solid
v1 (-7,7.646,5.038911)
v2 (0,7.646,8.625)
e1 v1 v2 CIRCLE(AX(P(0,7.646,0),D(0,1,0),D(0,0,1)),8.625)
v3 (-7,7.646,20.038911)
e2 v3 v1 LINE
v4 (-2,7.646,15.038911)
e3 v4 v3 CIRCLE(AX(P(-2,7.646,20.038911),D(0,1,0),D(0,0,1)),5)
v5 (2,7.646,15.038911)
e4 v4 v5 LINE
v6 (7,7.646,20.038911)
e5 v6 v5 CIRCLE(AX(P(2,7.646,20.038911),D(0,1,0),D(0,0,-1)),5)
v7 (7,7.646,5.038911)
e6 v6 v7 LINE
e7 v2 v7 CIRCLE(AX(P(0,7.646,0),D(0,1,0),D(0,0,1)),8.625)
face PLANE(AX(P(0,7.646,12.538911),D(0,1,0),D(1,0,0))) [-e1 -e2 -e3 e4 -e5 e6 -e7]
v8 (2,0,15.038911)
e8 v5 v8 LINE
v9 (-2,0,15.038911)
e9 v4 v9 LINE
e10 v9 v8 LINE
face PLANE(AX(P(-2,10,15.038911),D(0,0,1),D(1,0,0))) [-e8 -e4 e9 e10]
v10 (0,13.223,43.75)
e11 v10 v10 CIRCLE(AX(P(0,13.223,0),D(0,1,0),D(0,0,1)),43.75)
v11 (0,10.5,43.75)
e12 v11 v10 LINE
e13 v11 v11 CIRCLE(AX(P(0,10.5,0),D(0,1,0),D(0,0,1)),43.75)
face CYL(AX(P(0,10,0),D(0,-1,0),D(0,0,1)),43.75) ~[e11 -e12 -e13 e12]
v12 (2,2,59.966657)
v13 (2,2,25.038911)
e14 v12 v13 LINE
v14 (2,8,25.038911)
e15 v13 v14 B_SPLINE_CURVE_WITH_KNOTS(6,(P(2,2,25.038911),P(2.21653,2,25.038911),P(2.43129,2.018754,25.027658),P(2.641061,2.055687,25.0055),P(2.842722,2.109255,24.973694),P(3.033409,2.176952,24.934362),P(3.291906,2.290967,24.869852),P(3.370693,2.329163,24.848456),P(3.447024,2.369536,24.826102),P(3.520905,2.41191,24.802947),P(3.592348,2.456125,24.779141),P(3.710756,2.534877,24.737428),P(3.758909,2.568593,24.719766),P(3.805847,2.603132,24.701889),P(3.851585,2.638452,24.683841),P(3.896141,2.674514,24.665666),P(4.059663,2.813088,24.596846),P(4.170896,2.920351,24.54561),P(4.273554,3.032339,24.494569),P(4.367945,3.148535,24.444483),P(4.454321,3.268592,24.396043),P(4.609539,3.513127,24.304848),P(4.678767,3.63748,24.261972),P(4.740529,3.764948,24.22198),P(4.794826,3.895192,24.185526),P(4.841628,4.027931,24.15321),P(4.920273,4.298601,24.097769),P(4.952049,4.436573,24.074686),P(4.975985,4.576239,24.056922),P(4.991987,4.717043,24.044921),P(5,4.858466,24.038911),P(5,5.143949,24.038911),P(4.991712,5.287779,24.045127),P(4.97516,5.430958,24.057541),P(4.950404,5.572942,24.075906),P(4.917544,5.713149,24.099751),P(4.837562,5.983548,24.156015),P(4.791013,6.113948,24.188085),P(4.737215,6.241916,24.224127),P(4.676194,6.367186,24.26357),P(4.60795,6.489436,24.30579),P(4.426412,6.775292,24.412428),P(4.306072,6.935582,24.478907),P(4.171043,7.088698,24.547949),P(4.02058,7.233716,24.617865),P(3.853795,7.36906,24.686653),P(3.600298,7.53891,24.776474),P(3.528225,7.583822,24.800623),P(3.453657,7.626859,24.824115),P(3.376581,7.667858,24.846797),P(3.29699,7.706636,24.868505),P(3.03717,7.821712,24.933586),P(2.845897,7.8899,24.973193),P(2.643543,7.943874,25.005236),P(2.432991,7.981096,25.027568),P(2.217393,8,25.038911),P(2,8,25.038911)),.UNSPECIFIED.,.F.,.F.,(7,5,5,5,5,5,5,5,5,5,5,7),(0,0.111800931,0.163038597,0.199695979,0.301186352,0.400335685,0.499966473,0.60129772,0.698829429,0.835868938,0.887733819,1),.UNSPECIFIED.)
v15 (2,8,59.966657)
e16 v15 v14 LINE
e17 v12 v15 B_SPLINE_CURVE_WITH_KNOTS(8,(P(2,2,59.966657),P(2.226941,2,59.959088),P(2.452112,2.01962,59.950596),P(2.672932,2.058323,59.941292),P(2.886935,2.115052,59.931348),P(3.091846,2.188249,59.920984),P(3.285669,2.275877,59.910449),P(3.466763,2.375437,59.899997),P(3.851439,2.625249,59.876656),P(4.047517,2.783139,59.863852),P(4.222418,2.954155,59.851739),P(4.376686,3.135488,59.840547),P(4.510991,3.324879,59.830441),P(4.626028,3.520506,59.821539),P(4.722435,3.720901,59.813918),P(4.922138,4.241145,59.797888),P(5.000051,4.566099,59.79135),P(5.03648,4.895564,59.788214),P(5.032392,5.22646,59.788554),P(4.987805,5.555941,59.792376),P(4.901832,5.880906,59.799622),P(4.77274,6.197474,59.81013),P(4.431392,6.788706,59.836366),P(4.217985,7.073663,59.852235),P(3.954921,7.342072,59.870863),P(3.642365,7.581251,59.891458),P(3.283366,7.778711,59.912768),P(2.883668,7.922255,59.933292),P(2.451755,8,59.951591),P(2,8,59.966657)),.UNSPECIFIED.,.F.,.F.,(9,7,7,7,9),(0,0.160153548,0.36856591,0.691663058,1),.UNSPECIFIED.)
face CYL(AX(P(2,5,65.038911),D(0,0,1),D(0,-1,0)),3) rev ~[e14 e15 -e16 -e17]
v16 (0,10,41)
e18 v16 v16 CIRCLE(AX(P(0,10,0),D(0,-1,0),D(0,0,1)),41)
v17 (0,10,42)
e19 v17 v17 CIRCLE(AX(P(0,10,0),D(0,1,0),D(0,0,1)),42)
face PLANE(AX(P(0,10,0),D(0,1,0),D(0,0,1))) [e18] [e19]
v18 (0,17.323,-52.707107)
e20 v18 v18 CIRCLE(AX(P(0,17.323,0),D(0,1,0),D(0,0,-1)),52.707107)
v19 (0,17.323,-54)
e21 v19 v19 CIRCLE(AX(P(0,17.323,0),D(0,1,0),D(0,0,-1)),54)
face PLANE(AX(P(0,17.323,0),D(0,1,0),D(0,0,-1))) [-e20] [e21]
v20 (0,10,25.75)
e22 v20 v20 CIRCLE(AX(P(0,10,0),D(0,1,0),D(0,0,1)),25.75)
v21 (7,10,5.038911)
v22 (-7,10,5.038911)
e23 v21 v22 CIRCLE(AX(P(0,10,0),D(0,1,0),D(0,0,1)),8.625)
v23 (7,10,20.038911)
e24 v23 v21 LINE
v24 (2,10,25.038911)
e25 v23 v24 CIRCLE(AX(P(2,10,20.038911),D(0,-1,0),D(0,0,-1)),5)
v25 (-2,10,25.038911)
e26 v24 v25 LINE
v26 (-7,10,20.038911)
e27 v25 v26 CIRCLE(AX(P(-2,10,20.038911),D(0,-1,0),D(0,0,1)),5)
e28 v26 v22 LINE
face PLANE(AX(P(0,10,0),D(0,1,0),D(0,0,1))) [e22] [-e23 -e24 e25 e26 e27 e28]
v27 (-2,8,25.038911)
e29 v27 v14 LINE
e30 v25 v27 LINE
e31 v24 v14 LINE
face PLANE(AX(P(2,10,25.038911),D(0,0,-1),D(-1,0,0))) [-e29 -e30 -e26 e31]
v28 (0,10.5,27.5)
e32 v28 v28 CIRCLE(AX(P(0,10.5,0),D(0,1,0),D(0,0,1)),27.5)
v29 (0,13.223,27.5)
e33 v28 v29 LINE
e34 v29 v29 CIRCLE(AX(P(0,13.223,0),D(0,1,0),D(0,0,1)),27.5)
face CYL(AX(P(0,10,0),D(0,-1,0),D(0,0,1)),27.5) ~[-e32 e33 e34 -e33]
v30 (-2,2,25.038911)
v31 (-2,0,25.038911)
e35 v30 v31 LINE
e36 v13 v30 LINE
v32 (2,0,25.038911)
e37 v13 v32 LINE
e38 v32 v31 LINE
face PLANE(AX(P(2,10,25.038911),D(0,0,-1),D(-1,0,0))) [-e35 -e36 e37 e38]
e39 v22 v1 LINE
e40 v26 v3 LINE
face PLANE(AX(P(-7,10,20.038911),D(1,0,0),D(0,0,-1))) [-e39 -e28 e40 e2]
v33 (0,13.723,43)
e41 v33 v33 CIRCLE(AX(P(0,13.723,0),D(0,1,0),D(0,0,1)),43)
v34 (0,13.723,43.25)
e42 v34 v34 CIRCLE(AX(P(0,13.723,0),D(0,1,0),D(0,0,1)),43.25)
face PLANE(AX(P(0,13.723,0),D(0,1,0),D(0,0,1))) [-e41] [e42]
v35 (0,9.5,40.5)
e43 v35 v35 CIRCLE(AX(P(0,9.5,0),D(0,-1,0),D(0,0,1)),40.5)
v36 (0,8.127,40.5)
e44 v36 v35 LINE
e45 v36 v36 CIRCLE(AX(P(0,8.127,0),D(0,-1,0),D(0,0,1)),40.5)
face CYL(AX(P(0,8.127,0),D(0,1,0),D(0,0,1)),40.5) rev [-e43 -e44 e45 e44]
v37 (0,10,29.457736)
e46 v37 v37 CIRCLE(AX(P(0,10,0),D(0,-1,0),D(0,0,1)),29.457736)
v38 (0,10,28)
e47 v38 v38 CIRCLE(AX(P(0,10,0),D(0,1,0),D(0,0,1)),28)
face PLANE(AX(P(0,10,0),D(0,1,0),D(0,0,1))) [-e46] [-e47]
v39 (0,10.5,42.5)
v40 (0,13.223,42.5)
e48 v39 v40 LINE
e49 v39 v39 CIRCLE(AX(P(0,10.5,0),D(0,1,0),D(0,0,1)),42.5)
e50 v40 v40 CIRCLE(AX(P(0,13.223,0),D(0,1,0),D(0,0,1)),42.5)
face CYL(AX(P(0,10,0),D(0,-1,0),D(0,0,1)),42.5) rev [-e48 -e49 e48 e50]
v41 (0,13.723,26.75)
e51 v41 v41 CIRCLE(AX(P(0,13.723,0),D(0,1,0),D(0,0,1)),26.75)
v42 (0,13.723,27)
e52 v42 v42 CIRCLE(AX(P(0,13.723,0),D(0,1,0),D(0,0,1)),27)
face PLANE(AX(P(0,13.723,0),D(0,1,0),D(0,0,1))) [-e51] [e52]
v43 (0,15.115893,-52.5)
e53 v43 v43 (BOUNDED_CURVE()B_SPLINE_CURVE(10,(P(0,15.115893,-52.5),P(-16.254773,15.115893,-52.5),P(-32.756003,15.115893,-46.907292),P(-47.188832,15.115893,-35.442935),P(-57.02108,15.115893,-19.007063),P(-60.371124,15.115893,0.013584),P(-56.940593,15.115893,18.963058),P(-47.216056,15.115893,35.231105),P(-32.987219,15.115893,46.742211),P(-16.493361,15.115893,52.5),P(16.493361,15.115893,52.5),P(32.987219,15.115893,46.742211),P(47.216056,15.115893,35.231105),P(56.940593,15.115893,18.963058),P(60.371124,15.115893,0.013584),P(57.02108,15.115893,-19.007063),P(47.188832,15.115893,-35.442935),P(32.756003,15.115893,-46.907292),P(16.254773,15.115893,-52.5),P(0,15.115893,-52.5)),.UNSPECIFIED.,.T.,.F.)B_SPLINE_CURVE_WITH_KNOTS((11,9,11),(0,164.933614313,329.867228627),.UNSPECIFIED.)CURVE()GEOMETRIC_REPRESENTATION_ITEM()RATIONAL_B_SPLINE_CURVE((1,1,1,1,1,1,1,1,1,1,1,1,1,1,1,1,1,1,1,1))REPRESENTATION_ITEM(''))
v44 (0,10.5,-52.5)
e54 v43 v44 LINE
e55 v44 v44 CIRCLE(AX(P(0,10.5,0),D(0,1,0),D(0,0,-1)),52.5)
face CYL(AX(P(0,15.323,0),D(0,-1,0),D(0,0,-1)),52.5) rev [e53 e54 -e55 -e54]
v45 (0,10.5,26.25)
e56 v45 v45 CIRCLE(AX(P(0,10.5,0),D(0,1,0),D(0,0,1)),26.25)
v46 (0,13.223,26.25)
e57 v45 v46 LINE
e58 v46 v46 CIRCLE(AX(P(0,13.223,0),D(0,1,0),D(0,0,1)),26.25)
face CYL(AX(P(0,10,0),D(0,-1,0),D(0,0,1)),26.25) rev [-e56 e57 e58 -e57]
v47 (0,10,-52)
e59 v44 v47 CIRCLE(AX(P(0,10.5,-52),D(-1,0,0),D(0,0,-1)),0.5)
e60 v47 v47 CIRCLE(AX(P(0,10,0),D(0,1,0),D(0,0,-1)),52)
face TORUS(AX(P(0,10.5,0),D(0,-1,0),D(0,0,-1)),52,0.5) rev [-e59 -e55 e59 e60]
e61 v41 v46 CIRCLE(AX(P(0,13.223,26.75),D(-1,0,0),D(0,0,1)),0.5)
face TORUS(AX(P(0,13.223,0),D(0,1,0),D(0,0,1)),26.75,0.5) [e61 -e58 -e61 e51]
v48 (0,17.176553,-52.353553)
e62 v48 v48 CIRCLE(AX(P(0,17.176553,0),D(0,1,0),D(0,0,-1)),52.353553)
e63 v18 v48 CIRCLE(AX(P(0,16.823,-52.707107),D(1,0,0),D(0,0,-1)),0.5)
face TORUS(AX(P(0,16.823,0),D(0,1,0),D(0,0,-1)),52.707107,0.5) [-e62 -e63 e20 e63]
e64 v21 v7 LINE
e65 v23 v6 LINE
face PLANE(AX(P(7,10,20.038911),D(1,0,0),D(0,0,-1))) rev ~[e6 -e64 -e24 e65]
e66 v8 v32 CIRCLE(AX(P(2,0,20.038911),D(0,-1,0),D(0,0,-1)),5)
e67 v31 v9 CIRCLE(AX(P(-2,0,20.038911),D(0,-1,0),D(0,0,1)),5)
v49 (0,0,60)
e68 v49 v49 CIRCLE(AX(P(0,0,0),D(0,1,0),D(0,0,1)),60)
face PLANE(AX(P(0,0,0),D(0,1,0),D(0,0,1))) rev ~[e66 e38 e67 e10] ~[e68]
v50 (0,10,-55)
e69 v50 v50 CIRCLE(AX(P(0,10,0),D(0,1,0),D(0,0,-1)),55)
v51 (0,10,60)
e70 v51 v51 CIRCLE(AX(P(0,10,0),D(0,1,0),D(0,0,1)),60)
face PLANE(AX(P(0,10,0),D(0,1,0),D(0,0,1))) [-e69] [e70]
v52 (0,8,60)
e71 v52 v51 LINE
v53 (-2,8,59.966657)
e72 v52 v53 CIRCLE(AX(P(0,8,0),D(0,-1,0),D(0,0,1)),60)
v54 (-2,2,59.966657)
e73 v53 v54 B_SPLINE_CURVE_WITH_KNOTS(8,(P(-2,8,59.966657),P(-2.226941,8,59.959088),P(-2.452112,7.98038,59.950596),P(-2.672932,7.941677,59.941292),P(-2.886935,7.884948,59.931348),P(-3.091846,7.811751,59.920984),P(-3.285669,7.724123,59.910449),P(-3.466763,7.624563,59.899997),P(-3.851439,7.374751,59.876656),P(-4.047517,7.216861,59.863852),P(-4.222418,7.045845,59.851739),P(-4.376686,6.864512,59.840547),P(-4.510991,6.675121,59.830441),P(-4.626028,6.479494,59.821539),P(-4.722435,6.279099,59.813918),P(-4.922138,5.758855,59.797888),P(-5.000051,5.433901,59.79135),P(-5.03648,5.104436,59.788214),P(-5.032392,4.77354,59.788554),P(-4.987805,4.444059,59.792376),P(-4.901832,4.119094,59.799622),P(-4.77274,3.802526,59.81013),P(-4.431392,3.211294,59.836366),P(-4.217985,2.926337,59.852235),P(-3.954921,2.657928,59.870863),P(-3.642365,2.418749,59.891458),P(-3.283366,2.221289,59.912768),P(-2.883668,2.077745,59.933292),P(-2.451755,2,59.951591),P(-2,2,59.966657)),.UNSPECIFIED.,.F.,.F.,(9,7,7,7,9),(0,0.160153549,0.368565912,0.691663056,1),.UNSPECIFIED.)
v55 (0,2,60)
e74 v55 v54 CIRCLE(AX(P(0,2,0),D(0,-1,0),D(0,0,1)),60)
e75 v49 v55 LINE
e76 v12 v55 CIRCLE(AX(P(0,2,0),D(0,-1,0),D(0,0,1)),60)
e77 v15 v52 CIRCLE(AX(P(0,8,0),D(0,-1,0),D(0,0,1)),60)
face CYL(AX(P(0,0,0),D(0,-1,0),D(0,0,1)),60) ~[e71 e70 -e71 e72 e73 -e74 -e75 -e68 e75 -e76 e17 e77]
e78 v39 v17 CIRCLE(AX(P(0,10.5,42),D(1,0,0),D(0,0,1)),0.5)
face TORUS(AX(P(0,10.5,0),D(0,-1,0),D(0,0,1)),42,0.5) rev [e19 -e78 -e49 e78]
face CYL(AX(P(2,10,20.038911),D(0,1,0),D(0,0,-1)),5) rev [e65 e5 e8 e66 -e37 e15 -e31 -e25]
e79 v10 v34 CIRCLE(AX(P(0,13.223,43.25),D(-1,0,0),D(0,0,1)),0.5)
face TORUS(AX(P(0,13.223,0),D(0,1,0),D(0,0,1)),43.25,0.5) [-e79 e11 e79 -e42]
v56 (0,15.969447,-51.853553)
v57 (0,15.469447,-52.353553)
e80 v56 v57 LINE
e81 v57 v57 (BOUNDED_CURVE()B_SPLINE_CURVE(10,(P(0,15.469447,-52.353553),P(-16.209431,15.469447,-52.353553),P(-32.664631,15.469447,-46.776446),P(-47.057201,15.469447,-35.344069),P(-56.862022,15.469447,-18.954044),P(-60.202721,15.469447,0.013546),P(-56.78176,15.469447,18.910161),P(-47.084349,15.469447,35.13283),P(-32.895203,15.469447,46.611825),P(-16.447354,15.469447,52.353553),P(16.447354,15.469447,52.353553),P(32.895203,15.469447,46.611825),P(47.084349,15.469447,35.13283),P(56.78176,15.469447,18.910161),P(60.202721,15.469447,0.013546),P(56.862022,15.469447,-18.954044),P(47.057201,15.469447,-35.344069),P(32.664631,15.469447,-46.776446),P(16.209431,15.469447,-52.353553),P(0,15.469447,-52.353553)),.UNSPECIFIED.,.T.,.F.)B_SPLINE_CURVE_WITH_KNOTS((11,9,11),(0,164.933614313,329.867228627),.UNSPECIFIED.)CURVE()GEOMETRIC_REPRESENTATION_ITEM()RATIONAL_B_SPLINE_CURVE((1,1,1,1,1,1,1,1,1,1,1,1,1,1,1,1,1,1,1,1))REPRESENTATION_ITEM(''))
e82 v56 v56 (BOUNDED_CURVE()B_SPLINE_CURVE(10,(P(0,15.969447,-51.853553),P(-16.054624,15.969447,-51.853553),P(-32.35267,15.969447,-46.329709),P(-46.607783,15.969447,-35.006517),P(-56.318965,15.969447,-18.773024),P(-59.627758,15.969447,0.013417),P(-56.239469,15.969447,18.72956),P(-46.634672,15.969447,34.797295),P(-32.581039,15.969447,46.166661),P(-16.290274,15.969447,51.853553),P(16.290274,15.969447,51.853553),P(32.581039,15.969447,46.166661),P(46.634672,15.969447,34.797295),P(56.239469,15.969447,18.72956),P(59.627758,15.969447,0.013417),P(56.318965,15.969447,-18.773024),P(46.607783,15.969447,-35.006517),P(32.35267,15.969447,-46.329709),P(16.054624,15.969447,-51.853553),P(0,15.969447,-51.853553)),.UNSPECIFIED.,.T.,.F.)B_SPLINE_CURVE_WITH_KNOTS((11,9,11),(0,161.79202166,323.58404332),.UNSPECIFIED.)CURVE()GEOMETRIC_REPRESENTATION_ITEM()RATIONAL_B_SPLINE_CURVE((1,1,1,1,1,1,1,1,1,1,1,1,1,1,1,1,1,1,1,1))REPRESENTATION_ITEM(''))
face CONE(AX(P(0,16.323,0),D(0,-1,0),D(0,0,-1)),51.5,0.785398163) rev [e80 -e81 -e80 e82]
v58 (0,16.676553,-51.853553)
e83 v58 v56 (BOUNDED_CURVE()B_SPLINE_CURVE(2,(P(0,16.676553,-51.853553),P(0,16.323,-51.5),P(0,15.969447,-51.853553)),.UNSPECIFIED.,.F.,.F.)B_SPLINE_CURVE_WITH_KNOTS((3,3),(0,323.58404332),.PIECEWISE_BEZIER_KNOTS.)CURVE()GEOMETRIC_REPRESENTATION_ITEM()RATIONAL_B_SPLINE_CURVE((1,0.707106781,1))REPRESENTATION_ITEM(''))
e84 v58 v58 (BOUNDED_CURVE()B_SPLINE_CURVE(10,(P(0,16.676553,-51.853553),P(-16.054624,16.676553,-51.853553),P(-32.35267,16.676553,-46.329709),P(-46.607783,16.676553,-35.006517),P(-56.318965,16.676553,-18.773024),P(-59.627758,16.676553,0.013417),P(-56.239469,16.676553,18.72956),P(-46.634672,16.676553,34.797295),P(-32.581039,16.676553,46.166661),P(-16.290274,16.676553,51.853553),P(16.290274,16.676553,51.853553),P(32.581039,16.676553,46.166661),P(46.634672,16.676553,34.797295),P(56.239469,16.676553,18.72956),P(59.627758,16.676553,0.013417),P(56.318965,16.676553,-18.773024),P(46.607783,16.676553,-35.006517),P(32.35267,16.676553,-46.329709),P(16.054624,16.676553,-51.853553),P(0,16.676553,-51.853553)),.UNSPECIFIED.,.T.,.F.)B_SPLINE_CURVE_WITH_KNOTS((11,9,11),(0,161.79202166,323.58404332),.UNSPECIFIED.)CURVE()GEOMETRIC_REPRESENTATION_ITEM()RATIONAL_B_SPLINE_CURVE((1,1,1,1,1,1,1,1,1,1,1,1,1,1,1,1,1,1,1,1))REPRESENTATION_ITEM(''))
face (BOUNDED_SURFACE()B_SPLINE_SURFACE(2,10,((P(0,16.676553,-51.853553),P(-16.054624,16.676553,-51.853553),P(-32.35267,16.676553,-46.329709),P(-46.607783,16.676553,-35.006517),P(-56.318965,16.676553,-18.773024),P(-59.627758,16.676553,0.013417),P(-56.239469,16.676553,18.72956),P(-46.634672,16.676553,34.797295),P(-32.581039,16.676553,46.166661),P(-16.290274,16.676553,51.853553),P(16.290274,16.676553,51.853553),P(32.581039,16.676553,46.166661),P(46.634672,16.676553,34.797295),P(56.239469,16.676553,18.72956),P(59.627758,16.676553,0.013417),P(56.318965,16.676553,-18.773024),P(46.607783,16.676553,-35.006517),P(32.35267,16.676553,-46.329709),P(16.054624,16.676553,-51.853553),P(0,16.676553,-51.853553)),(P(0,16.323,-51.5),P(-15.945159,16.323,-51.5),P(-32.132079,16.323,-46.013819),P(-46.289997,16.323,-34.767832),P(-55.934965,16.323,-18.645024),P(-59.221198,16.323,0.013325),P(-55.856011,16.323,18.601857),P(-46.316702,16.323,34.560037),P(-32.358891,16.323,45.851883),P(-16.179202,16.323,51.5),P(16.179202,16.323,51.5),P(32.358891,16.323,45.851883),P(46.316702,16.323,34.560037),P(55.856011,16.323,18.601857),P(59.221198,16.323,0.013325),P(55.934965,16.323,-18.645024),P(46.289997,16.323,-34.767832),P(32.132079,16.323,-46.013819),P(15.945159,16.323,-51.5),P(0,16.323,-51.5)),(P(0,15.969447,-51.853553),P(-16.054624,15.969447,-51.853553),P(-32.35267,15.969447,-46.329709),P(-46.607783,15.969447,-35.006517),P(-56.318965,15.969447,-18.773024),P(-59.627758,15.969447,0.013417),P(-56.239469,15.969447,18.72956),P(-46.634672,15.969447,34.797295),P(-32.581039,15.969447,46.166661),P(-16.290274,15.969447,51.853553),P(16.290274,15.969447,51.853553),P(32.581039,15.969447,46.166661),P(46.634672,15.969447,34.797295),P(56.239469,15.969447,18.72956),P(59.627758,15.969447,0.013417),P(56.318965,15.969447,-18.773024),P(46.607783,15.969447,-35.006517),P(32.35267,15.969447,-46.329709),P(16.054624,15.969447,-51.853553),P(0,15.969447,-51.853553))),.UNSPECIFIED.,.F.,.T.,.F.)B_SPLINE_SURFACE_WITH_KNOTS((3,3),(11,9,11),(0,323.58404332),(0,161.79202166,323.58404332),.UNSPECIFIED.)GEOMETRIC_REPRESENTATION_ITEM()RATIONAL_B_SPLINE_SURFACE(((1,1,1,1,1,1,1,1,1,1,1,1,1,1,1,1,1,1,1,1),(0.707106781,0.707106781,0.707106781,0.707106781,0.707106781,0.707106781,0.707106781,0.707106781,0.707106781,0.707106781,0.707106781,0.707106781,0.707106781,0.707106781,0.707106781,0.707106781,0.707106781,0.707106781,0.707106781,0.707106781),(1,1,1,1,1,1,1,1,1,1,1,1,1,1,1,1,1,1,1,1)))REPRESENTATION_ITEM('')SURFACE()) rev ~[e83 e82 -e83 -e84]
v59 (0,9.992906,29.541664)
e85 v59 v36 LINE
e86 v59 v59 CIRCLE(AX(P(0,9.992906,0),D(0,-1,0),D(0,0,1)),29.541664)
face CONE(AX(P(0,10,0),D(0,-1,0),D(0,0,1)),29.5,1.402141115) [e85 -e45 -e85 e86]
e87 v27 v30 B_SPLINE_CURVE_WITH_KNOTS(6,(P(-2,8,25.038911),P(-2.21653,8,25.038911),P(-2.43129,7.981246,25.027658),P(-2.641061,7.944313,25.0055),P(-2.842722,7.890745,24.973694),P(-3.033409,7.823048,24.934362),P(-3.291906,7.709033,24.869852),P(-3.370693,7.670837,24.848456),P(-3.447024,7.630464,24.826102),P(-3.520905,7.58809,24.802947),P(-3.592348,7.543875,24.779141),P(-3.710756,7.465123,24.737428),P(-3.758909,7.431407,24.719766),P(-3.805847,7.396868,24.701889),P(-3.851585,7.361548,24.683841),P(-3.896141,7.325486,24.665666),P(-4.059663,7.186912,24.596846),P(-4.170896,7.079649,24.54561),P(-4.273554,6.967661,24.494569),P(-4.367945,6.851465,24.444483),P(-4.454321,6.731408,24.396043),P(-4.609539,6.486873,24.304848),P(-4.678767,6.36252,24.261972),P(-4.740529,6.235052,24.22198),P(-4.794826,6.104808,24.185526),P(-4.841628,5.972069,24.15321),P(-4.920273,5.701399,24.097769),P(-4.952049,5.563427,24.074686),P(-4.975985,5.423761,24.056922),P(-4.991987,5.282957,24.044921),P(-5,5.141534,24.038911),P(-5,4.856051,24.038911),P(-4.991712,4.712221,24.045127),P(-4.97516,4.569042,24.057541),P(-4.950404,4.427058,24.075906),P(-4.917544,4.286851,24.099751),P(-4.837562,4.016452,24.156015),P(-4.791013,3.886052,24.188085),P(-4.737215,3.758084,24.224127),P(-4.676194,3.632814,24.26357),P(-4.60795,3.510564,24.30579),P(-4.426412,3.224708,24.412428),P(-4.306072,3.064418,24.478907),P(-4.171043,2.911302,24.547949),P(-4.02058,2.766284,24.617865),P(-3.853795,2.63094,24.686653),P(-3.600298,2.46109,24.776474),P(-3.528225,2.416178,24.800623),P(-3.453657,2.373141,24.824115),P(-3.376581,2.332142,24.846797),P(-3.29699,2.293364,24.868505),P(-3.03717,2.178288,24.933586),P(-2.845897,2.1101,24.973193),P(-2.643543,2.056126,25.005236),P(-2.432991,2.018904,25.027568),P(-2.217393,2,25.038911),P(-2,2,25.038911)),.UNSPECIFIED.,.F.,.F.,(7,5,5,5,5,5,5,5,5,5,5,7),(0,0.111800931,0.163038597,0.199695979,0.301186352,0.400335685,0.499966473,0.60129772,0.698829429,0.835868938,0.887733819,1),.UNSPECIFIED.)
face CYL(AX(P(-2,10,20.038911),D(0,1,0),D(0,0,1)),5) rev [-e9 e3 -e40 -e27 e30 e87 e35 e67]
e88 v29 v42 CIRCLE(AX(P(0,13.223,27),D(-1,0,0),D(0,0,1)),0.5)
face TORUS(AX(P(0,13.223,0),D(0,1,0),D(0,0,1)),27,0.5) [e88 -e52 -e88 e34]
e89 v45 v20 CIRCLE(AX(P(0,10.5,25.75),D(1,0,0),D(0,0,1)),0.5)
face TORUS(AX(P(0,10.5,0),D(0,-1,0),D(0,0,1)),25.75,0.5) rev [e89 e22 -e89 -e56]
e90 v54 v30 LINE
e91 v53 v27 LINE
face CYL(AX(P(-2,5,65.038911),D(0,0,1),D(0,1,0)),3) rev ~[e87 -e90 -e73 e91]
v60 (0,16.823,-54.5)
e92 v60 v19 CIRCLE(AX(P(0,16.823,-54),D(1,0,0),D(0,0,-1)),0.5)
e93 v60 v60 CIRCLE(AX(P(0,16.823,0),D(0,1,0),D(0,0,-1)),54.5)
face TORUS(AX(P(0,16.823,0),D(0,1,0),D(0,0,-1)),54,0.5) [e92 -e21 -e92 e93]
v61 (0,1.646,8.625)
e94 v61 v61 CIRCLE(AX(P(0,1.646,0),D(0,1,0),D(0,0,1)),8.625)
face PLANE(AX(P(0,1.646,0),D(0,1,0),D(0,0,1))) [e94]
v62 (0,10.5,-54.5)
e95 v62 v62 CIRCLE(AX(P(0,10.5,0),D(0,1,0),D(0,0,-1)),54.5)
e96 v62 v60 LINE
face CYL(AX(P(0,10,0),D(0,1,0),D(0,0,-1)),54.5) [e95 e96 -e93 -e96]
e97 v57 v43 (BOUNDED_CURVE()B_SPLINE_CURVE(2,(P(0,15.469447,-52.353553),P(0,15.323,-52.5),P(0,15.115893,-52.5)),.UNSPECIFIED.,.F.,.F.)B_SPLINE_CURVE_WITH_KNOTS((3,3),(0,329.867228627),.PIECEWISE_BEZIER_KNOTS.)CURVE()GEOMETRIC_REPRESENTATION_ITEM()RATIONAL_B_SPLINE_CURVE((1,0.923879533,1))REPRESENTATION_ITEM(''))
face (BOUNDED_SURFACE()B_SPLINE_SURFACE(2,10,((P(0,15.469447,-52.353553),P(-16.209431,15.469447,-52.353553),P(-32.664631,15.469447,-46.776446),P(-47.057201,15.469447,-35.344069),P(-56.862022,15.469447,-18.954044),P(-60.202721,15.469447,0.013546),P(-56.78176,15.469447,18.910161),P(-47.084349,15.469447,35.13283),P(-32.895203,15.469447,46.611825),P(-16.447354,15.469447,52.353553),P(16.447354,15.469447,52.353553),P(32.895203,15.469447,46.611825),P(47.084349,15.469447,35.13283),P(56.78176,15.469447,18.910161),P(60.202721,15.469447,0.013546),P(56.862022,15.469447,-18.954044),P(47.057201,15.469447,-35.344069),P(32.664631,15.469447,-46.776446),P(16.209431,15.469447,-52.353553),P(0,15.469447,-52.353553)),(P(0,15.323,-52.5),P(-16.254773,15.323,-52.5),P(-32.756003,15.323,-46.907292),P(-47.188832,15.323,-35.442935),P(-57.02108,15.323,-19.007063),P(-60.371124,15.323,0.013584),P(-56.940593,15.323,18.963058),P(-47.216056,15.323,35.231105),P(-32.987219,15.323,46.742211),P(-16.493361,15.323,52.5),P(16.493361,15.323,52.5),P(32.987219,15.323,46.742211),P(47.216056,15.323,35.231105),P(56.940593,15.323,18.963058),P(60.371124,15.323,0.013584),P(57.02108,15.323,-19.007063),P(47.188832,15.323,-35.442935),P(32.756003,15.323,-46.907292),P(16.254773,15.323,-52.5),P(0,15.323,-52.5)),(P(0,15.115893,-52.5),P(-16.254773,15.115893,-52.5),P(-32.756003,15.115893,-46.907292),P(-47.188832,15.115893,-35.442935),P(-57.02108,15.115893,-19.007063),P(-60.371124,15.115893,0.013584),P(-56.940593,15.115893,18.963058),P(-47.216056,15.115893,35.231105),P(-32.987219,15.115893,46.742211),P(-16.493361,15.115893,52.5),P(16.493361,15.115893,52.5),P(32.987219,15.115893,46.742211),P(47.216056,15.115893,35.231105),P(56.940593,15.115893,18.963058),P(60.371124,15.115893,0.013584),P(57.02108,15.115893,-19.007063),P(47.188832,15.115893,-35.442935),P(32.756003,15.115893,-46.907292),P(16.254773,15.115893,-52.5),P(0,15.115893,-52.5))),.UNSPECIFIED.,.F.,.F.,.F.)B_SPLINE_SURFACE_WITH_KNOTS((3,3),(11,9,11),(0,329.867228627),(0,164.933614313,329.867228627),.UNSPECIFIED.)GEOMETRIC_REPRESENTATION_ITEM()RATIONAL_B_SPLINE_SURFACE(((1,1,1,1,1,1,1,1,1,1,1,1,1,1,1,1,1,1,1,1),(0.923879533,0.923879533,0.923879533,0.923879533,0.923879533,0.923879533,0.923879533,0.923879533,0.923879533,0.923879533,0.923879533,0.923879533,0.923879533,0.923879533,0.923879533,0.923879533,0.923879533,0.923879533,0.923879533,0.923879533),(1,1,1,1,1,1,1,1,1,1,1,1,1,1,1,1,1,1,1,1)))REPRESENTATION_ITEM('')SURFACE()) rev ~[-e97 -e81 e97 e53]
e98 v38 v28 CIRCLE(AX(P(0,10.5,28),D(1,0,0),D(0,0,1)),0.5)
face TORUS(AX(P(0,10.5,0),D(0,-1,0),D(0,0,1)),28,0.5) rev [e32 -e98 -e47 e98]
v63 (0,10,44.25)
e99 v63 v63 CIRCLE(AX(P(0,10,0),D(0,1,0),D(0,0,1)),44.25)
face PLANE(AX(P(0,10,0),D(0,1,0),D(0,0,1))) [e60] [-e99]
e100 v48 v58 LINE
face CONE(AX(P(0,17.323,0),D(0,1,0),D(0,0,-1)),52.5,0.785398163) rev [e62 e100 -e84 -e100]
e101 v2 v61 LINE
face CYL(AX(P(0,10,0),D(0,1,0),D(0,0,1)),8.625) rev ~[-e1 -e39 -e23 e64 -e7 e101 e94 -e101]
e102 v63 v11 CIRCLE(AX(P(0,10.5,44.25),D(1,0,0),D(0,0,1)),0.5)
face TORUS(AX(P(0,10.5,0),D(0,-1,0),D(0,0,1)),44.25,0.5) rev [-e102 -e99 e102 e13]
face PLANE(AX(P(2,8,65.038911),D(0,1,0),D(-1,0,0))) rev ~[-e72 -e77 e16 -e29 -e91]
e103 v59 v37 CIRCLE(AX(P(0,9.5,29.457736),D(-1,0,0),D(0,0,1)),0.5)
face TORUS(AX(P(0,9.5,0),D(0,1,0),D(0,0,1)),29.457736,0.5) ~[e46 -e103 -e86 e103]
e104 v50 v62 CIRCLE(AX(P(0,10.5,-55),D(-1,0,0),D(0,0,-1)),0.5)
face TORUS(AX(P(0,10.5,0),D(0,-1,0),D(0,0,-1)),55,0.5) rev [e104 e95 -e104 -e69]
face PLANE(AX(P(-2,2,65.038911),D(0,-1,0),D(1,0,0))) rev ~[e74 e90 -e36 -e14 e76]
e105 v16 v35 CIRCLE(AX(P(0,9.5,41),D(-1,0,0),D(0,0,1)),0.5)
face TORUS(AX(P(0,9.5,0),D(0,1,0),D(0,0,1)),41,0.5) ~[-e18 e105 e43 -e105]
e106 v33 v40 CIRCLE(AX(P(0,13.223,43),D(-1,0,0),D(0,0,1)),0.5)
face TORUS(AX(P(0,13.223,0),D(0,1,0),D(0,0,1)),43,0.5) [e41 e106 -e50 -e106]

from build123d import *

# Parameters (mm, degrees)
SKETCH1_R               = 60
BOSS_EXTRUDE1_DEPTH     = 10
SKETCH3_R               = 43.75
SKETCH3_R_2             = 42.5
SKETCH3_R_3             = 27.5
SKETCH3_R_4             = 26.25
BOSS_EXTRUDE2_DEPTH     = 3.723
FILLET1_R               = 0.5
FILLET2_R               = 0.5
SKETCH6_R               = 8.625
CUT_EXTRUDE1_DEPTH      = 8.354
SKETCH9_W               = 14
SKETCH9_H               = 15
CUT_EXTRUDE2_DEPTH      = 2.354
CUT_EXTRUDE3_DEPTH      = 10
CUT_EXTRUDE4_DEPTH      = 2
CUT_EXTRUDE4_DEPTH_BACK = 40


with BuildPart() as part:
    # Sketch1 → Boss-Extrude1 (new body)
    with BuildSketch(Plane(origin=(0, 0, 0), x_dir=(1, 0, 0), z_dir=(0, 1, 0))):
        with Locations(Location((0, 0, 0), (0, 0, 270))):
            Circle(SKETCH1_R)
    extrude(amount=BOSS_EXTRUDE1_DEPTH)

    # Sketch2 → Cut-Revolve1 (revolve, cut)
    with BuildSketch(Plane.XY, mode=Mode.PRIVATE) as cut_revolve1_sk:
        Polygon((-29.5, 10), (-40.5, 8.127), (-40.5, 10), align=None)
    revolve(cut_revolve1_sk.sketch.rotate(Axis((0, 10, 0), (0, -1, 0)), 270), axis=Axis((0, 10, 0), (0, -1, 0)), mode=Mode.SUBTRACT)

    # Sketch3 → Boss-Extrude2 (add)
    # profile 1 of 2: a face of its own
    with BuildSketch(Plane(origin=(0, 10, 0), x_dir=(1, 0, 0), z_dir=(0, 1, 0))):
        with Locations(Location((0, 0, 0), (0, 0, 270))):
            Circle(SKETCH3_R)
        with Locations(Location((0, 0, 0), (0, 0, 270))):
            Circle(SKETCH3_R_2, mode=Mode.SUBTRACT)
    # profile 2 of 2: a face of its own
    with BuildSketch(Plane(origin=(0, 10, 0), x_dir=(1, 0, 0), z_dir=(0, 1, 0))):
        with Locations(Location((0, 0, 0), (0, 0, 270))):
            Circle(SKETCH3_R_3)
        with Locations(Location((0, 0, 0), (0, 0, 270))):
            Circle(SKETCH3_R_4, mode=Mode.SUBTRACT)
    extrude(amount=BOSS_EXTRUDE2_DEPTH)

    # Fillet1
    fillet1_edges = [part.edges().sort_by_distance(p)[0] for p in [
        (0, 10, -27.5),
        (0, 13.723, -27.5),
        (0, 10, -26.25),
        (0, 13.723, -26.25),
        (0, 10, -43.75),
        (0, 13.723, -43.75),
        (0, 10, -42.5),
        (0, 13.723, -42.5),
        (0, 10, -40.5),
        (0, 10, -29.5),
    ]]
    fillet(fillet1_edges, radius=FILLET1_R)

    # Sketch5 → Revolve1 (revolve)
    with BuildSketch(Plane.XY, mode=Mode.PRIVATE) as revolve1_sk:
        Polygon((-52.5, 10), (-54.5, 10), (-54.5, 17.323), (-52.5, 17.323), (-51.5, 16.323), (-52.5, 15.323), align=None)
    revolve(revolve1_sk.sketch.rotate(Axis((0, 10, 0), (0, 1, 0)), 270), axis=Axis((0, 10, 0), (0, 1, 0)))

    # Fillet2
    fillet2_edges = [part.edges().sort_by_distance(p)[0] for p in [
        (0, 10, 52.5),
        (0, 10, 54.5),
        (0, 17.323, 54.5),
        (0, 17.323, 52.5),
        (0, 16.323, 51.5),
        (0, 15.323, 52.5),
    ]]
    fillet(fillet2_edges, radius=FILLET2_R)

    # Sketch6 → Cut-Extrude1 (cut)
    with BuildSketch(Plane(origin=(0, 10, 0), x_dir=(1, 0, 0), z_dir=(0, 1, 0))):
        with Locations(Location((0, 0, 0), (0, 0, 270))):
            Circle(SKETCH6_R)
    extrude(amount=-CUT_EXTRUDE1_DEPTH, mode=Mode.SUBTRACT)

    # Sketch9 → Cut-Extrude2 (cut)
    with BuildSketch(Plane(origin=(0, 10, 0), x_dir=(1, 0, 0), z_dir=(0, 1, 0))):
        with Locations((0, -12.538911093)):
            Rectangle(SKETCH9_W, SKETCH9_H)
    extrude(amount=-CUT_EXTRUDE2_DEPTH, mode=Mode.SUBTRACT)

    # Sketch10 → Cut-Extrude3 (cut)
    with BuildSketch(Plane(origin=(0, 10, 0), x_dir=(1, 0, 0), z_dir=(0, 1, 0))):
        with BuildLine():
            Line((2, -25.038911093), (-2, -25.038911093))
            ThreePointArc((-2, -25.038911093), (-7, -20.038911093), (-2, -15.038911093))
            Line((-2, -15.038911093), (2, -15.038911093))
            ThreePointArc((2, -15.038911093), (7, -20.038911093), (2, -25.038911093))
        make_face()
    extrude(amount=-CUT_EXTRUDE3_DEPTH, mode=Mode.SUBTRACT)

    # Sketch11 → Cut-Extrude4 (cut, two sides: drawn at the far end of the back side and taken through both)
    with BuildSketch(Plane(origin=(0, 0, 25.038911093), x_dir=(-1, 0, 0), z_dir=(0, 0, -1)).offset(-CUT_EXTRUDE4_DEPTH_BACK)):
        with BuildLine():
            Line((-2, 8), (2, 8))
            ThreePointArc((2, 8), (5, 5), (2, 2))
            Line((2, 2), (-2, 2))
            ThreePointArc((-2, 2), (-5, 5), (-2, 8))
        make_face()
    extrude(amount=CUT_EXTRUDE4_DEPTH + CUT_EXTRUDE4_DEPTH_BACK, mode=Mode.SUBTRACT)


solid = part.part
